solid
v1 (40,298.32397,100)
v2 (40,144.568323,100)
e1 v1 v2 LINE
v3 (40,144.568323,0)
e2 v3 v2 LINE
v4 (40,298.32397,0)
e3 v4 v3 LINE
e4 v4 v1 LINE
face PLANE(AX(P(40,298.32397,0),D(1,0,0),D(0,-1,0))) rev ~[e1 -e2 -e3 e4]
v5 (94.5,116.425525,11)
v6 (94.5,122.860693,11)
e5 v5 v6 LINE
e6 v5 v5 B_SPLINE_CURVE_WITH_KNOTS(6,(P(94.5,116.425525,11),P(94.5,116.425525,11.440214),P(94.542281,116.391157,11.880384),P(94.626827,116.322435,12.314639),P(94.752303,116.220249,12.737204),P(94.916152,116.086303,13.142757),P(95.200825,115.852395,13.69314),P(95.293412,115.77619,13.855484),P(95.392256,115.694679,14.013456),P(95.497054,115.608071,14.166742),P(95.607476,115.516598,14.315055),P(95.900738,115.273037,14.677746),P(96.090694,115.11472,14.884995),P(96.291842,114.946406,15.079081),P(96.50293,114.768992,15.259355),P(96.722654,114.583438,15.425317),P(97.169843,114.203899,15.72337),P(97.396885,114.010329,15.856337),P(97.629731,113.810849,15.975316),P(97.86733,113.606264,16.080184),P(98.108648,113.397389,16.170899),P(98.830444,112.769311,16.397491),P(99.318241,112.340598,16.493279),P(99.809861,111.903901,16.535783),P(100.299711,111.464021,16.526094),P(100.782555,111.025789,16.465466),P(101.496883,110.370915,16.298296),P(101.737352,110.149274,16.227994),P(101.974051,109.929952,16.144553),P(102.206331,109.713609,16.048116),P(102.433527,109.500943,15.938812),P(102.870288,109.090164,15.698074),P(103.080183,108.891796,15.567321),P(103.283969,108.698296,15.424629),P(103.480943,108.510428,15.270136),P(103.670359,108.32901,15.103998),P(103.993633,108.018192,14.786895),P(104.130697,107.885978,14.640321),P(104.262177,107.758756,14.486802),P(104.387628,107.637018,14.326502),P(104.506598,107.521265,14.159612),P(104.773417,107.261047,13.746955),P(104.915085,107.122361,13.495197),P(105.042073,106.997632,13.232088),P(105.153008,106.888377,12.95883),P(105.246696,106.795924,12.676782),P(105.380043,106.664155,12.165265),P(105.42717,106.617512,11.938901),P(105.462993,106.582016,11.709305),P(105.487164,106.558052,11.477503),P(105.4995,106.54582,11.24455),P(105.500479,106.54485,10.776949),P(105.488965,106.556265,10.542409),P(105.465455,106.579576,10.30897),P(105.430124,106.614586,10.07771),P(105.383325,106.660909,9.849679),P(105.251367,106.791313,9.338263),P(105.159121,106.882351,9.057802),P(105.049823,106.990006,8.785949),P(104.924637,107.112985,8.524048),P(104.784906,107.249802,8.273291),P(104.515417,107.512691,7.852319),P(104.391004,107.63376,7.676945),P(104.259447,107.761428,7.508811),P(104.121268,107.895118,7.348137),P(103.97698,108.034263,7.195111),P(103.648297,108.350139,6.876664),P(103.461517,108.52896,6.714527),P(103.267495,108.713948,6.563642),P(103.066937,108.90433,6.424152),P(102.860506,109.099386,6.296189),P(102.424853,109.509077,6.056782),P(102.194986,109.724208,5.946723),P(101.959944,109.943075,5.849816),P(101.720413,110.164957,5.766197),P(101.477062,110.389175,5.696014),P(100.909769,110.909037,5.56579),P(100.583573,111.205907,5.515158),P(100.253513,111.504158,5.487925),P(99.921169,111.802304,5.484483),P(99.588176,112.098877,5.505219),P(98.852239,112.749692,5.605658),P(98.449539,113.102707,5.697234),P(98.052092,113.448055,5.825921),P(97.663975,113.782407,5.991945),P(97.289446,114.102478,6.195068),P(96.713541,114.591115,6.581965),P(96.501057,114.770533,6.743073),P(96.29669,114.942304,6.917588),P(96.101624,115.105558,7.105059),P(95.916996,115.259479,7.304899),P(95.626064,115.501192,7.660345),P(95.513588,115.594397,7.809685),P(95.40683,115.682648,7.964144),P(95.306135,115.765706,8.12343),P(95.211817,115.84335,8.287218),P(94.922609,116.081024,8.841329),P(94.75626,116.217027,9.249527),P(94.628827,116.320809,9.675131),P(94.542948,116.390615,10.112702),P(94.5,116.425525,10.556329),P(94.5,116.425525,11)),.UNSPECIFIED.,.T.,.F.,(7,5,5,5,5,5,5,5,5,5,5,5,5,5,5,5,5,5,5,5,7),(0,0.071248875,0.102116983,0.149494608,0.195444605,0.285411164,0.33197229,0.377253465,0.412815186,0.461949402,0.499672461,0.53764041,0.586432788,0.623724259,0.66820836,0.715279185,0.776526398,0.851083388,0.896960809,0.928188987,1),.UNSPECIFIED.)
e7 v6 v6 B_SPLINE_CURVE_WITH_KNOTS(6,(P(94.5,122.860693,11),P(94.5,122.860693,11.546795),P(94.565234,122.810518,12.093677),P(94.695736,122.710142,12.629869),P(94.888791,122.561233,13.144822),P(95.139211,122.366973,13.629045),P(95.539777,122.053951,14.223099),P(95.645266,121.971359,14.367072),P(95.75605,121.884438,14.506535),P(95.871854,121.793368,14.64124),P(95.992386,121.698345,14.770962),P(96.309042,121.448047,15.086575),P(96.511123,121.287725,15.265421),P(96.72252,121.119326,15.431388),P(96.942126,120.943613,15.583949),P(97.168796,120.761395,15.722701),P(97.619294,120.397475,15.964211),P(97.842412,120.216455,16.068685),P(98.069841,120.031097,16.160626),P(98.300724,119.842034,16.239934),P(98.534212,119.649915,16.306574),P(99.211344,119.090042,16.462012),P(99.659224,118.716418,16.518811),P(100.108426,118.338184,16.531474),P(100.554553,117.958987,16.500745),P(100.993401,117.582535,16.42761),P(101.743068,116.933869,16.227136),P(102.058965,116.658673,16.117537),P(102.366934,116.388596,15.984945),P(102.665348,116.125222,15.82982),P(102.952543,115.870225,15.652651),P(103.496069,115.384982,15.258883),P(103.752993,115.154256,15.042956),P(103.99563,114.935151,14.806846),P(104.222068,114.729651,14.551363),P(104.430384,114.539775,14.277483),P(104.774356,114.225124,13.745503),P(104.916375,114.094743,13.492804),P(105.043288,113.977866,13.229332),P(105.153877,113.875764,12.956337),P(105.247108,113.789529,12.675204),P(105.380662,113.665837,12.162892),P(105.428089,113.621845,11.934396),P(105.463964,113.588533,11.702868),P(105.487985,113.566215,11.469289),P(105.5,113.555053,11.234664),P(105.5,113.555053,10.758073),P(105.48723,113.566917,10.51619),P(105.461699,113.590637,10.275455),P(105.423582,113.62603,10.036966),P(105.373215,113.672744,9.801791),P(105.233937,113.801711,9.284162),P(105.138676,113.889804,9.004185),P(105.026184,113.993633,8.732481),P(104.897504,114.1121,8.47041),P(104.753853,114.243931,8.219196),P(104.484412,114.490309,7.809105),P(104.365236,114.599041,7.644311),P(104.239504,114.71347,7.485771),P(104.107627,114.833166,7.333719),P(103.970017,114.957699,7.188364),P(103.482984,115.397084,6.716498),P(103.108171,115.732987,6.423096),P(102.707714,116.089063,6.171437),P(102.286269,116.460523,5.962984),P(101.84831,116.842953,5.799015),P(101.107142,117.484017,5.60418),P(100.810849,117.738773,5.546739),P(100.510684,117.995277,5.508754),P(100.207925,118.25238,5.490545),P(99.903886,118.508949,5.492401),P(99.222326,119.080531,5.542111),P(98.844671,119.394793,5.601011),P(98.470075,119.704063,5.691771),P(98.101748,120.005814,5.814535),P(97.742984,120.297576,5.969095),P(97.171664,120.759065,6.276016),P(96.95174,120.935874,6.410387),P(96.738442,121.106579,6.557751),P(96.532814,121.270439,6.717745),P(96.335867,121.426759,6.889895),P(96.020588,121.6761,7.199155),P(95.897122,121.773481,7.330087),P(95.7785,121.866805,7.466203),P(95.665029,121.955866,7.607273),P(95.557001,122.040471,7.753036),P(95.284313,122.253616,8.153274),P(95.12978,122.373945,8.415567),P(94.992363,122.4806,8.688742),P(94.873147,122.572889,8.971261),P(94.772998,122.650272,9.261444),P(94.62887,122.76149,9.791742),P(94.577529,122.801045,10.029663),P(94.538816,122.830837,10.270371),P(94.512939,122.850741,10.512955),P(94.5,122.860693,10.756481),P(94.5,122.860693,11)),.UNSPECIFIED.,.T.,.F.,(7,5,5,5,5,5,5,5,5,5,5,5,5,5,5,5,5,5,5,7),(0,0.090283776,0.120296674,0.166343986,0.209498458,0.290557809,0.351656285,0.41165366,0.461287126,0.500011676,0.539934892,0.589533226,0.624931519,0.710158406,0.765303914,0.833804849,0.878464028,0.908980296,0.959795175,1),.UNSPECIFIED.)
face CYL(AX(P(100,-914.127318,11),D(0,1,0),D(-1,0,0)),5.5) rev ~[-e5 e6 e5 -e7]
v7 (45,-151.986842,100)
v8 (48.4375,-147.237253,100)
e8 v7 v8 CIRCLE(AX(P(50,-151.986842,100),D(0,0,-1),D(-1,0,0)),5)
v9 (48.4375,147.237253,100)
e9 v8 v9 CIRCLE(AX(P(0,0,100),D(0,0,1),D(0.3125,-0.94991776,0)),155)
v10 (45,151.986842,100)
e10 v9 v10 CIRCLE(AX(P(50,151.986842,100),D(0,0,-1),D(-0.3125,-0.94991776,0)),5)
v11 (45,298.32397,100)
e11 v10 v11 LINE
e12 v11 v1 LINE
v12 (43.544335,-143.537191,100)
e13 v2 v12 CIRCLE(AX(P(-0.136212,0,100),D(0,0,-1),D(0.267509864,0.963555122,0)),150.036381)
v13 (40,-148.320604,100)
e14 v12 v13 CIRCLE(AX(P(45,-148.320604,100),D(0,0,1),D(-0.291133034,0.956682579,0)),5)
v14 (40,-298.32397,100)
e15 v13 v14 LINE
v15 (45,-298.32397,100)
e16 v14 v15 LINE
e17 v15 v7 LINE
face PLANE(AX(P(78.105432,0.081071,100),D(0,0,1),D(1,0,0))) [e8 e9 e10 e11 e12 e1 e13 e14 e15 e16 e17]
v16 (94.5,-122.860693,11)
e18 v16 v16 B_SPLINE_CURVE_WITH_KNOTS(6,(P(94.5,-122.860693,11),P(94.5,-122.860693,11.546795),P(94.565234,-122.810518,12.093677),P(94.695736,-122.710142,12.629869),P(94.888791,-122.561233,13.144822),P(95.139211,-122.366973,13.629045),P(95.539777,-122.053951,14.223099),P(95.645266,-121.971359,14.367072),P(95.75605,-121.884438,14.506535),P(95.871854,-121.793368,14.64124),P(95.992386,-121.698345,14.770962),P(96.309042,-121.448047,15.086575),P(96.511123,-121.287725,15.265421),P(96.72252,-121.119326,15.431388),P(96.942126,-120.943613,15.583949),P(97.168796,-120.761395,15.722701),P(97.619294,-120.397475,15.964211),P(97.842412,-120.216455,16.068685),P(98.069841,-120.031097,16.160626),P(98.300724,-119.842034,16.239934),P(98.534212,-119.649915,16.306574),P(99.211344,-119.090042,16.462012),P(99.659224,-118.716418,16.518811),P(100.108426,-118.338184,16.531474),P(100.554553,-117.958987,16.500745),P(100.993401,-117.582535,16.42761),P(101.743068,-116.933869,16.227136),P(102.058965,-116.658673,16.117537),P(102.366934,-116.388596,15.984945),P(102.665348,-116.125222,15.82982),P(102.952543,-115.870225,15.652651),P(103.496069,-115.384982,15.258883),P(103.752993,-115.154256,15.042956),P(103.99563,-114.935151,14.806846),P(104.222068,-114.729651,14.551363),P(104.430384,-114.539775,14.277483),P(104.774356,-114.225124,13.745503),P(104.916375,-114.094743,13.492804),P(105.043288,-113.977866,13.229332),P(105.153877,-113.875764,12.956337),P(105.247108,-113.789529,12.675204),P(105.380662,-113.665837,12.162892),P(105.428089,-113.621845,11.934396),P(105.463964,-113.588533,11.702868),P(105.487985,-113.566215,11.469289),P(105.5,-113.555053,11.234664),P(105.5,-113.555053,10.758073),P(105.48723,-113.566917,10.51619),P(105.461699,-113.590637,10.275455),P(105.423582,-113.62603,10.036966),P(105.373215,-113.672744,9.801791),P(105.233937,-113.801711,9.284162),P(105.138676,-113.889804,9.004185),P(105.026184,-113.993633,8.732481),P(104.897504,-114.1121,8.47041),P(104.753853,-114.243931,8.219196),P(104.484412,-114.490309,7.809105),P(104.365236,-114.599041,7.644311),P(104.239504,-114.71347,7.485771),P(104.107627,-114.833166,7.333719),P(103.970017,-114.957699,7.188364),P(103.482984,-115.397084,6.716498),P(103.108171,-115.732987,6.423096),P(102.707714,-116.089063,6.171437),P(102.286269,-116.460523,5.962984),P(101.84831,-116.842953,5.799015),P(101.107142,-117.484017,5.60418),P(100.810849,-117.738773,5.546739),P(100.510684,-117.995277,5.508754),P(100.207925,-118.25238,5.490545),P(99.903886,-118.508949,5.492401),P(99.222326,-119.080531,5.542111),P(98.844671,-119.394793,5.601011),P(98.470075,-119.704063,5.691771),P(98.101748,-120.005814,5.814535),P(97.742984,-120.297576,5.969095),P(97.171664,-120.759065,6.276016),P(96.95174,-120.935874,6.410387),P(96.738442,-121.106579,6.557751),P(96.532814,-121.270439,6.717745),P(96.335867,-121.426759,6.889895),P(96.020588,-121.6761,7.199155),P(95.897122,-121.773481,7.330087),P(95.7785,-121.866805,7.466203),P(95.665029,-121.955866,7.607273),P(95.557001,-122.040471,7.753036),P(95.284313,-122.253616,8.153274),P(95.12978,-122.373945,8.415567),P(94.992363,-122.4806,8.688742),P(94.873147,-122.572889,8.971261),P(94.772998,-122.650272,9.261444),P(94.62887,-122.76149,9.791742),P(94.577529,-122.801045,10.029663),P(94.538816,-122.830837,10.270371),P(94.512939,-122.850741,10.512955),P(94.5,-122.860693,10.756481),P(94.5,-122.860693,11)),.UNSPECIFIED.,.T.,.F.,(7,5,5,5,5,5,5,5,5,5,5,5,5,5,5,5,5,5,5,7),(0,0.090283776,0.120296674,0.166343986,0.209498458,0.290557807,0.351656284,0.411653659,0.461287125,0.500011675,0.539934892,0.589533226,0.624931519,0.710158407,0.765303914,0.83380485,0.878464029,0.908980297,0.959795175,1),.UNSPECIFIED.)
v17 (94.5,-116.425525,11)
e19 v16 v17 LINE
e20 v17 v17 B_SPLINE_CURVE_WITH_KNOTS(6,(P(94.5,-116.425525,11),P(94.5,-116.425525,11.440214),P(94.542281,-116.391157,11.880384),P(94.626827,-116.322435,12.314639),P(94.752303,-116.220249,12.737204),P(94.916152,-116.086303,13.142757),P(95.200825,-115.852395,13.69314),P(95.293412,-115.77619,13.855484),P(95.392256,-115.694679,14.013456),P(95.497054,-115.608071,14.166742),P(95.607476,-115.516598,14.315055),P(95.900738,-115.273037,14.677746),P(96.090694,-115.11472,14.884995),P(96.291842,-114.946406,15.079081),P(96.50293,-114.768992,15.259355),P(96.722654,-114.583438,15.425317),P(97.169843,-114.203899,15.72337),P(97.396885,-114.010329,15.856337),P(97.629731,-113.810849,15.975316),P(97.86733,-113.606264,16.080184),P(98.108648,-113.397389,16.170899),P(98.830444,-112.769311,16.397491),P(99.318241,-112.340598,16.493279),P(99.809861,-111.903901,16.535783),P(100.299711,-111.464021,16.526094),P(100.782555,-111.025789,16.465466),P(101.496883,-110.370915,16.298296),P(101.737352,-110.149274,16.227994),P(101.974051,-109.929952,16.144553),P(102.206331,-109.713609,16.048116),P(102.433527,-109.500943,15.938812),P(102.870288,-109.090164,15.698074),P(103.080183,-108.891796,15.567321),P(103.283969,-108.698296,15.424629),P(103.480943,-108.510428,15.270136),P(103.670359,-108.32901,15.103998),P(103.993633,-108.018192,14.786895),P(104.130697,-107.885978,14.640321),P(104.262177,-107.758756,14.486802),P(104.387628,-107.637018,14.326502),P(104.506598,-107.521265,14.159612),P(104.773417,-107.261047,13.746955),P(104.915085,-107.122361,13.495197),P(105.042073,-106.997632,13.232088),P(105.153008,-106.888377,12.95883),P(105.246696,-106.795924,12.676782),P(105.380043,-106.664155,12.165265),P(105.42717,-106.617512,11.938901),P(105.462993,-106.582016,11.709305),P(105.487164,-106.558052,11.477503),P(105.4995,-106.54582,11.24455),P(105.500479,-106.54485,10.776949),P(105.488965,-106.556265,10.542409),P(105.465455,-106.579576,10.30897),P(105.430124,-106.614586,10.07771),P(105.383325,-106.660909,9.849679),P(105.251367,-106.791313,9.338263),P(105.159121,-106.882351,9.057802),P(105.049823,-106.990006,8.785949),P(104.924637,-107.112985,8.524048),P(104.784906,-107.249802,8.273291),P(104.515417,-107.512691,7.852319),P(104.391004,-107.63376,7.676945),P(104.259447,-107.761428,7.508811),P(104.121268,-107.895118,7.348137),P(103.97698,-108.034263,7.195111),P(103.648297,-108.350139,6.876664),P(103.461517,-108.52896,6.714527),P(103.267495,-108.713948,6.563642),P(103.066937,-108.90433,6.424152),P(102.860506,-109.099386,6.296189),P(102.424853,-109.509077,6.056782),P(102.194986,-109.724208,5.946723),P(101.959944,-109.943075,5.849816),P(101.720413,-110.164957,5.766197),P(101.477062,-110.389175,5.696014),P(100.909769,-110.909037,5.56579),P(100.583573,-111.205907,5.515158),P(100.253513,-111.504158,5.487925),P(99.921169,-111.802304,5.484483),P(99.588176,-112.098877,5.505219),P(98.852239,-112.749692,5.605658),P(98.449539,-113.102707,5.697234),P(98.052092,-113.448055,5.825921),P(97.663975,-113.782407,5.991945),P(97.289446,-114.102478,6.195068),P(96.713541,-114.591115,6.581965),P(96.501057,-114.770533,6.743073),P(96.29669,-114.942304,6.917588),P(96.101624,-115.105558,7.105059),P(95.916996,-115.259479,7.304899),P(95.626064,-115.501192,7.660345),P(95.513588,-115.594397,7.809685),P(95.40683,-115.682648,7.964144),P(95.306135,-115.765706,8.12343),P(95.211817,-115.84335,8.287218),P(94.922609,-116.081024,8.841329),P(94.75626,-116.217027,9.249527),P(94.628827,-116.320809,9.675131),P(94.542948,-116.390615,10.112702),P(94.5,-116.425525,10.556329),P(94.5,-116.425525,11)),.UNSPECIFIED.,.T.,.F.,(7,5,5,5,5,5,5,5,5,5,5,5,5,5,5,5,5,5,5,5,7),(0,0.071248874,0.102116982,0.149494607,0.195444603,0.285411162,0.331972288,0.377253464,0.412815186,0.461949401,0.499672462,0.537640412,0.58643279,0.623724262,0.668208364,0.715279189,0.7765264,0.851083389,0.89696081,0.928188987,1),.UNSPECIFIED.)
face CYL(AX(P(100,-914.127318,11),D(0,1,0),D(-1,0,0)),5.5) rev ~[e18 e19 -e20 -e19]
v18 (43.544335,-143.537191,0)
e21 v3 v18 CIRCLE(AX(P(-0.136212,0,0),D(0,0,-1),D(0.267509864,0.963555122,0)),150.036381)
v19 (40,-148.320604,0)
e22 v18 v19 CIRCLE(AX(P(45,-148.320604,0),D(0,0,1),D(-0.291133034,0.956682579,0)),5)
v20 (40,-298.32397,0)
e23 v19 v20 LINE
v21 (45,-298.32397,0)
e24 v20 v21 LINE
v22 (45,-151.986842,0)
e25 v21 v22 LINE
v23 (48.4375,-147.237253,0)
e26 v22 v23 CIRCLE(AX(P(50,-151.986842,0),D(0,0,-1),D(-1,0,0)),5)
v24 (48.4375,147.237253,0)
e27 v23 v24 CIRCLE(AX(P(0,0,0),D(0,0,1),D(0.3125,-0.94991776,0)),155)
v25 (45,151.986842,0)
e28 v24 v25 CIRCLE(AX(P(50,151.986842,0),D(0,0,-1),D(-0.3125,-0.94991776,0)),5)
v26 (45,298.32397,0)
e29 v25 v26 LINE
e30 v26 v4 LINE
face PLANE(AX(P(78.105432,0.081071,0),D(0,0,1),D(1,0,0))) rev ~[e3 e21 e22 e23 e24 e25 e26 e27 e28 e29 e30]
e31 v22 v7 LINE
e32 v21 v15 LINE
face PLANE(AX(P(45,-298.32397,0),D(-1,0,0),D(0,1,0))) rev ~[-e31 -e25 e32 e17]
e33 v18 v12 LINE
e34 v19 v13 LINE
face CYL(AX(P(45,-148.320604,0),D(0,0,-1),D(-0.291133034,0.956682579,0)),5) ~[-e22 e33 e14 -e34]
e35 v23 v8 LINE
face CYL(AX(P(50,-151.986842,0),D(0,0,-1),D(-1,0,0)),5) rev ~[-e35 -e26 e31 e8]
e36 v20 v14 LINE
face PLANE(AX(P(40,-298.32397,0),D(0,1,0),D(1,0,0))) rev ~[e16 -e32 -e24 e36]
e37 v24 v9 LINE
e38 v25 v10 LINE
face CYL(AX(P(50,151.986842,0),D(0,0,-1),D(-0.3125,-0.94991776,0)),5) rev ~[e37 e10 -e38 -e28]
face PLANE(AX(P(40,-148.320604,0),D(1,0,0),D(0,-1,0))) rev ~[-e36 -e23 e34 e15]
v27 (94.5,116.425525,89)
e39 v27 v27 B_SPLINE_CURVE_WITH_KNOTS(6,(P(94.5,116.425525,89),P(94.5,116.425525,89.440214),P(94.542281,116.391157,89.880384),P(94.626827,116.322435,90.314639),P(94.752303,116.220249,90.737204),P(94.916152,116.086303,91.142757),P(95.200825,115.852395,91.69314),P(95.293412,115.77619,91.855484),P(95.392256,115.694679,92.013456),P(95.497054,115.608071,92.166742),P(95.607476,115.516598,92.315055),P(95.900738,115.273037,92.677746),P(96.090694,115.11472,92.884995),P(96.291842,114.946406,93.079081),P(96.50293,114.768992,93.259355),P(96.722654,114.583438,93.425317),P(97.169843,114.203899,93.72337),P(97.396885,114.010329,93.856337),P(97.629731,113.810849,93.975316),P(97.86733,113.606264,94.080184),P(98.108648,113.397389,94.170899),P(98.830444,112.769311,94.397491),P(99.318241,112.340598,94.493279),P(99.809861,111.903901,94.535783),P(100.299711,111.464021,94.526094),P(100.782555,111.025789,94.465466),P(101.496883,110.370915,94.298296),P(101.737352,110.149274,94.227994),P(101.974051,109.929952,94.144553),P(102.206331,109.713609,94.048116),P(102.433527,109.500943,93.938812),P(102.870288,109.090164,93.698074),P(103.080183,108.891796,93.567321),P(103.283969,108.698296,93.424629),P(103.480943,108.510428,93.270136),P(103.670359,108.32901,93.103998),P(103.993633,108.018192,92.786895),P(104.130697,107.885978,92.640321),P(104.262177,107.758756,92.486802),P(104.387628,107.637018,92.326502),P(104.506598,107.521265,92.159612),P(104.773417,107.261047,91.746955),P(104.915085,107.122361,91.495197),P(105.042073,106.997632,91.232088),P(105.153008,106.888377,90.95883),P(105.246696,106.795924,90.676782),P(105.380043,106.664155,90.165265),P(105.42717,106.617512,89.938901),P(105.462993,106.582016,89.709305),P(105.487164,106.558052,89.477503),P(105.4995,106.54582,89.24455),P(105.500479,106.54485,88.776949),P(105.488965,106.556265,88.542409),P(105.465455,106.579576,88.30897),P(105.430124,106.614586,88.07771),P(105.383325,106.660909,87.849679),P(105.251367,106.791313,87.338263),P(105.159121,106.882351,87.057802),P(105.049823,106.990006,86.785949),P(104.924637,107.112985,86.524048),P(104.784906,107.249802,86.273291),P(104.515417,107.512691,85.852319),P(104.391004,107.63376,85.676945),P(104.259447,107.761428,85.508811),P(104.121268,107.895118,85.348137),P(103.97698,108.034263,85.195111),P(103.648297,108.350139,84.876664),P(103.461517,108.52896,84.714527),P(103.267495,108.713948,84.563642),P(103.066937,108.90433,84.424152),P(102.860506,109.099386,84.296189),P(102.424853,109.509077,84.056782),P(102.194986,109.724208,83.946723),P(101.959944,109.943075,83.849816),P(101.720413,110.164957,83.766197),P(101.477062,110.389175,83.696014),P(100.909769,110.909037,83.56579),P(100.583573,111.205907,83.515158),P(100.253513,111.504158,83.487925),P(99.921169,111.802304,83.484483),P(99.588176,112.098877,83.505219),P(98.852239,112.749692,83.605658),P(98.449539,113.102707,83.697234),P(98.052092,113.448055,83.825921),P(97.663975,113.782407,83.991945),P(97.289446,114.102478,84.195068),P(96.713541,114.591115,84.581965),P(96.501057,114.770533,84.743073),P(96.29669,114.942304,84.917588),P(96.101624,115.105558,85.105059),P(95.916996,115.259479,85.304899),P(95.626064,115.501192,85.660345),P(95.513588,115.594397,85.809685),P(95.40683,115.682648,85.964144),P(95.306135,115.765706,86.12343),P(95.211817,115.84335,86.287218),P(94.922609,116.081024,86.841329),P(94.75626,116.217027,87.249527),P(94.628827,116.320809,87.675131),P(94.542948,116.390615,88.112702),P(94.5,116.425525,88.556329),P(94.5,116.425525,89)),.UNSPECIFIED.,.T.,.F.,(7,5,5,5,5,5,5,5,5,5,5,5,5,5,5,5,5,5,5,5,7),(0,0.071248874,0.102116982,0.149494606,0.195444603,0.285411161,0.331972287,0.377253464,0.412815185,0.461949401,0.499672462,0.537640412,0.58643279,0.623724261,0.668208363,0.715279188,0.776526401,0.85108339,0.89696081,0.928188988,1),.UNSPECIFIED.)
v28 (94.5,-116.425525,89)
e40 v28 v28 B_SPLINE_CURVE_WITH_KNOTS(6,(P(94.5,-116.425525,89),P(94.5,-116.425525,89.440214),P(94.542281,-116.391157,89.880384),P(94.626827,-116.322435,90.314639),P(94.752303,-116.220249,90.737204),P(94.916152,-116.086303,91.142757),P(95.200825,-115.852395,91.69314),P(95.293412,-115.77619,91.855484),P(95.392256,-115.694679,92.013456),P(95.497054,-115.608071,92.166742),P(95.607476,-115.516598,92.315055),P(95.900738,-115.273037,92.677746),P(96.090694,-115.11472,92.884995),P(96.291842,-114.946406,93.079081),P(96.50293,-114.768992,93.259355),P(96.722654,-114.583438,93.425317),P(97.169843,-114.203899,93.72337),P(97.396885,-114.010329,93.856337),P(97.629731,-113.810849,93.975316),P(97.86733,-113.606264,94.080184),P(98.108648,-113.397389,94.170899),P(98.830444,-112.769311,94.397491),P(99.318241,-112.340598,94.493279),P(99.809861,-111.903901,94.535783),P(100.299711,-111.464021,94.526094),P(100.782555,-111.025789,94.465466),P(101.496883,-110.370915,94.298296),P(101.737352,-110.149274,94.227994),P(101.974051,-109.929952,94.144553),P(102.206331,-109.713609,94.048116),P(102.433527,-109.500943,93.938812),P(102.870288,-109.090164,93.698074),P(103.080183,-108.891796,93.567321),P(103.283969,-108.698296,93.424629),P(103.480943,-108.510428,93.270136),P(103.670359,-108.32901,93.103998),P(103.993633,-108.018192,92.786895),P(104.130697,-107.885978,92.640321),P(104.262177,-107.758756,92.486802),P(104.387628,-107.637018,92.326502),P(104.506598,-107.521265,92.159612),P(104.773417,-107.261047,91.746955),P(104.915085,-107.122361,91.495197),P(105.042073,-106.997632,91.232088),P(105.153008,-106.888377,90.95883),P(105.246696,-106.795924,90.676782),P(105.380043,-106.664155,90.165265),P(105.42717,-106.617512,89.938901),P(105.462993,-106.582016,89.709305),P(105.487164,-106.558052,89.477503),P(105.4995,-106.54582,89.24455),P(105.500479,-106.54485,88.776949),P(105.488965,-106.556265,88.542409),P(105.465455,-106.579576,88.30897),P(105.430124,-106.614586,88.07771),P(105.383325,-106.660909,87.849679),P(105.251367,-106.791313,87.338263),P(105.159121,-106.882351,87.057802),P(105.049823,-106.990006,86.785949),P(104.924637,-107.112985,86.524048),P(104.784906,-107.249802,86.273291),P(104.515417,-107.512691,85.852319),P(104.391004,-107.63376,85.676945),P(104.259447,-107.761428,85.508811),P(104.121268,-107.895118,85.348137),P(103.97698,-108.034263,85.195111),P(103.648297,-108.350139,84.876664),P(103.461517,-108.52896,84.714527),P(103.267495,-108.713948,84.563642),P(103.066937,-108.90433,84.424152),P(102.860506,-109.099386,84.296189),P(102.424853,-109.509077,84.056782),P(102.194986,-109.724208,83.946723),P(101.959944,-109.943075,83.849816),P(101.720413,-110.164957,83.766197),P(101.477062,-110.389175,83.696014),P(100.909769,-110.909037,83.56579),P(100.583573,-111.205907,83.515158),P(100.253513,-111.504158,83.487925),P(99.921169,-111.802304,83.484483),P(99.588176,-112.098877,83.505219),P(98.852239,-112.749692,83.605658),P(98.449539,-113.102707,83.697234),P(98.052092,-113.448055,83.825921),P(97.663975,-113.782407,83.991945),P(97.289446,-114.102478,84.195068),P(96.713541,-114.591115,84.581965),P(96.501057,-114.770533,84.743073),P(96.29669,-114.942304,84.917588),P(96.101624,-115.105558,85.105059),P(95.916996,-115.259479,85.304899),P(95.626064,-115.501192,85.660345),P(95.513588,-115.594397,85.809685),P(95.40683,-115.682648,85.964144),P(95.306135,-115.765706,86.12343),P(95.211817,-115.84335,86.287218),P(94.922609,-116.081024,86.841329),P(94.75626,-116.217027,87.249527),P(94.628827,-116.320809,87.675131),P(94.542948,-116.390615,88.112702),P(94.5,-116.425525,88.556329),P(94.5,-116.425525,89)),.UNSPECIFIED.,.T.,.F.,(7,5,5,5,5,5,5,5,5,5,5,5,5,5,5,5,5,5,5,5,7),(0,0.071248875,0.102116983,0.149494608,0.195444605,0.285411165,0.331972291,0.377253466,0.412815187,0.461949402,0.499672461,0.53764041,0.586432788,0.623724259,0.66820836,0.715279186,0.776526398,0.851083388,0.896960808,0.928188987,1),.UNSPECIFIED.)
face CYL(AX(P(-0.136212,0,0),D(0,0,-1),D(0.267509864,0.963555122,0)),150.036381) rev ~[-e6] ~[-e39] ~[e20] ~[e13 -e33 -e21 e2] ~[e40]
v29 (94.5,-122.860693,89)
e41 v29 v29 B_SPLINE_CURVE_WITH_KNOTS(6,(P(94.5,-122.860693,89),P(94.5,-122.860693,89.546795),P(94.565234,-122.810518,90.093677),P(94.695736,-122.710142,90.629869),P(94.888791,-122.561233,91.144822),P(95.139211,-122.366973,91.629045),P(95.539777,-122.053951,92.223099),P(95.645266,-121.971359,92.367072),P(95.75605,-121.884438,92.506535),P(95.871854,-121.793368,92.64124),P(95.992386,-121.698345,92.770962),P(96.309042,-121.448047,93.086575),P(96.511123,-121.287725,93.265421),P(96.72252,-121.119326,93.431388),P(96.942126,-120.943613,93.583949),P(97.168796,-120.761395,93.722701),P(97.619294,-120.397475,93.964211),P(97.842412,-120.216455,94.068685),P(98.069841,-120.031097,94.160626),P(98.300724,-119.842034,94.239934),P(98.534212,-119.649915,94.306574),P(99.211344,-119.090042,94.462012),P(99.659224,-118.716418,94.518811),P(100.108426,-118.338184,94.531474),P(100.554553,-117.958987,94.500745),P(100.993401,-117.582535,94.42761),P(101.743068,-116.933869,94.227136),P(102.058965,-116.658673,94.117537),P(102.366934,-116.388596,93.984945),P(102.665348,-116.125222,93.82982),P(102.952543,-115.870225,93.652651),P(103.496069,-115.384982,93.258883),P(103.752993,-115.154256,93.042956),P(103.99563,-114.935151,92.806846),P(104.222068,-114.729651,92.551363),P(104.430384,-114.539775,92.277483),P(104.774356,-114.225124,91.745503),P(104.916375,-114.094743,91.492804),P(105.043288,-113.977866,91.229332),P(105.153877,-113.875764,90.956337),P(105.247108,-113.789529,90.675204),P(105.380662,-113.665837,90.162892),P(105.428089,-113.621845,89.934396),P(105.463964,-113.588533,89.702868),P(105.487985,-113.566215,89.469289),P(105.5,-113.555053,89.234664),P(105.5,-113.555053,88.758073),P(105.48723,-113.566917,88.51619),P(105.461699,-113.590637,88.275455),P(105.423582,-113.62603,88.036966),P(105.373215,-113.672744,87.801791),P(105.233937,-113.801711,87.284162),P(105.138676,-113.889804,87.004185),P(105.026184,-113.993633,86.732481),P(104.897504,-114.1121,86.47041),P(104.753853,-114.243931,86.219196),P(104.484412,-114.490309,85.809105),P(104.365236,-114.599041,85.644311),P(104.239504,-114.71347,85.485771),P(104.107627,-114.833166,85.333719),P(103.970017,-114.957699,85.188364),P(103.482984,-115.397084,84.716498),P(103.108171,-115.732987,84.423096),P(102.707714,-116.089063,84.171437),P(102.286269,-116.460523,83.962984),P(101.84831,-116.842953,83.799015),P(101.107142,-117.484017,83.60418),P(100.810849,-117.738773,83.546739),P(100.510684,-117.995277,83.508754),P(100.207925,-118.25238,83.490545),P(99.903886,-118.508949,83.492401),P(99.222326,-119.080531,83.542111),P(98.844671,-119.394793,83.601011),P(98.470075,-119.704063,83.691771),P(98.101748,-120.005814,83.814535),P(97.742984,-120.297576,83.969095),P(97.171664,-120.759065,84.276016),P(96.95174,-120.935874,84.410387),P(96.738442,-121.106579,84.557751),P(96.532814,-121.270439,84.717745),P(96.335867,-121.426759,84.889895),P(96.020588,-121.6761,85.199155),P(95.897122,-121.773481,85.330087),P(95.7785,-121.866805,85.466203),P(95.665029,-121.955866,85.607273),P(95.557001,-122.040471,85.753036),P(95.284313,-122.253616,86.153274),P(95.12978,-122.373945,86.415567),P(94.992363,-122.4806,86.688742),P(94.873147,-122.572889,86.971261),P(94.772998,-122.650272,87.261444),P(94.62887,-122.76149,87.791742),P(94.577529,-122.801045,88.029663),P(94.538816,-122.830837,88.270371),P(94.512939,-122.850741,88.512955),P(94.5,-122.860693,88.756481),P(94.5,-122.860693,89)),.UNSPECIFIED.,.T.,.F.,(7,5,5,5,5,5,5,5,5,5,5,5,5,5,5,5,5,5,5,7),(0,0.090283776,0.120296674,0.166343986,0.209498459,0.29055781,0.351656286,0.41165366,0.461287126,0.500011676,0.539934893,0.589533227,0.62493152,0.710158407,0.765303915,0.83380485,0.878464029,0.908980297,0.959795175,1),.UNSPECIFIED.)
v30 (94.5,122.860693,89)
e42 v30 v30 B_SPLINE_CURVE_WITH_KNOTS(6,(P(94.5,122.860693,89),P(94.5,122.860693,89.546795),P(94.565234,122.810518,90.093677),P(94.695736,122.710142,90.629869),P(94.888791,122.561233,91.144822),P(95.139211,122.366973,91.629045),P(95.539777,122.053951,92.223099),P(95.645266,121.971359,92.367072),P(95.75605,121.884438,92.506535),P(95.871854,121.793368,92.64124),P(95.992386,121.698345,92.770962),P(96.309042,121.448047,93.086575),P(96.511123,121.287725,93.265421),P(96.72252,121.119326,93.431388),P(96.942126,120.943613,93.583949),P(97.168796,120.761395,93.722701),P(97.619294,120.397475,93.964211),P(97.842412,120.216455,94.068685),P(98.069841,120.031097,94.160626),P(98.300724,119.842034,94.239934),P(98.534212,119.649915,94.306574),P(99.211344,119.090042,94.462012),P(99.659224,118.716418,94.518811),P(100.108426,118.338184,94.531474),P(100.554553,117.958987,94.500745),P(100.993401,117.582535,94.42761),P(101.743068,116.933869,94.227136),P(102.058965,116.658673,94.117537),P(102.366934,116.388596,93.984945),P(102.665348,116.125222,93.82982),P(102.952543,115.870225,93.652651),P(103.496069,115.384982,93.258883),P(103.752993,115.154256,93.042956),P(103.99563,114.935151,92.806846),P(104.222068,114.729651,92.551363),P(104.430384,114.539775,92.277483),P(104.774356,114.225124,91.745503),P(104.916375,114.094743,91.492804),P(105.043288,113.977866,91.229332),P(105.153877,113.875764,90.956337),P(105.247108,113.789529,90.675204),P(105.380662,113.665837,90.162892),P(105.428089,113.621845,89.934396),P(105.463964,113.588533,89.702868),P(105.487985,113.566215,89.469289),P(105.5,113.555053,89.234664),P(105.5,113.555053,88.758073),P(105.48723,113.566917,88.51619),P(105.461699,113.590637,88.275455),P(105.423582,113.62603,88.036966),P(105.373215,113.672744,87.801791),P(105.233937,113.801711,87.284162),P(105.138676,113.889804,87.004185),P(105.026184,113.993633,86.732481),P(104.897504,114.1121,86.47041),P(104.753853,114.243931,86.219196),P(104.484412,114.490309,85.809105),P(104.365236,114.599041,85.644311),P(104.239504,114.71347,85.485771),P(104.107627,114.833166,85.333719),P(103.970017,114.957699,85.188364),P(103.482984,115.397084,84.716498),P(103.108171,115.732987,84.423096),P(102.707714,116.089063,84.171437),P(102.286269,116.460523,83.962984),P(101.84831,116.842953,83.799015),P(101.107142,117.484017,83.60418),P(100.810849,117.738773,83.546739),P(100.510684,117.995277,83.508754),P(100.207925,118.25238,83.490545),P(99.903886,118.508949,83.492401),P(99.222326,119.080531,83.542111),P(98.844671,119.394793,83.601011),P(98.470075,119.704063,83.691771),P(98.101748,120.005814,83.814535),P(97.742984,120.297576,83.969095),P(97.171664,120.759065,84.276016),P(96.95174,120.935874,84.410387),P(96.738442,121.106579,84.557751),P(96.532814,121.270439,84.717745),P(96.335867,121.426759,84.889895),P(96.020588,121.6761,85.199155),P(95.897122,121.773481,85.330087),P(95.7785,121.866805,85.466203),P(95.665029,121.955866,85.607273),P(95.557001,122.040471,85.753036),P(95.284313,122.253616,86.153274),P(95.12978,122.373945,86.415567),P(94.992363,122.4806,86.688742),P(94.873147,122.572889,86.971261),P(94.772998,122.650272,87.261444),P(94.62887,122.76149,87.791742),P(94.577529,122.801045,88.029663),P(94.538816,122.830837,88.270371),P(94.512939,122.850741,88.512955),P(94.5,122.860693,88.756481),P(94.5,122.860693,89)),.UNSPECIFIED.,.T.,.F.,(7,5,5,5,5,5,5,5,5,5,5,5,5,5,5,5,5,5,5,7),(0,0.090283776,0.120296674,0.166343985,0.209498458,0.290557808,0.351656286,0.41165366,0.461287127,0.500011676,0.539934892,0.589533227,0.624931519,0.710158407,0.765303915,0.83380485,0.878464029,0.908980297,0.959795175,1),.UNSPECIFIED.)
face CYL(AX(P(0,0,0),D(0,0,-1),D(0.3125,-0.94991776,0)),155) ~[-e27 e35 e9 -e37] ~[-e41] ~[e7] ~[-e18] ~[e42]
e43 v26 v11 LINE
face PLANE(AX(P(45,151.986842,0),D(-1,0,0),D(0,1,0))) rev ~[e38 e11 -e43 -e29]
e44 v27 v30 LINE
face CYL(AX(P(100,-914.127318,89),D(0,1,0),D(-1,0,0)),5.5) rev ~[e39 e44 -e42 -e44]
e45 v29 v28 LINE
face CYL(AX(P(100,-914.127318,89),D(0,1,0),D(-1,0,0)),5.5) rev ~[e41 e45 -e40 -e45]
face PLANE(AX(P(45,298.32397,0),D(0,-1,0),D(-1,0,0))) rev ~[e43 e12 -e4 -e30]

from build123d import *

# Parameters (mm, degrees)
F1_DEPTH = 100
F3_D     = 11


with BuildPart() as f1:
    # F0 (on Top) → F1 (new body)
    with BuildSketch(Plane.XY):
        with BuildLine():
            Line((45, -298.3239697419), (45, -151.9868415357))
            ThreePointArc((45, -151.9868415357), (45.9495370635, -149.0553316858), (48.4375, -147.2372527377))
            ThreePointArc((48.4375, -147.2372527377), (155, 0), (48.4375, 147.2372527377))
            ThreePointArc((48.4375, 147.2372527377), (45.9495370635, 149.0553316858), (45, 151.9868415357))
            Line((45, 151.9868415357), (45, 298.3239697419))
            Line((45, 298.3239697419), (40, 298.3239697419))
            Line((40, 298.3239697419), (40, 144.568322948))
            ThreePointArc((40, 144.568322948), (149.8888164954, 1.8456395549), (43.5443348323, -143.5371914998))
            ThreePointArc((43.5443348323, -143.5371914998), (40.9826422963, -145.343888573), (40, -148.3206043943))
            Line((40, -148.3206043943), (40, -298.3239697419))
            Line((40, -298.3239697419), (45, -298.3239697419))
        make_face()
    extrude(amount=F1_DEPTH)

    # F3 (through all)
    with Locations(Plane.XZ.offset(298.3239697419)):
        with Locations((100, 89), (100, 11)):
            Hole(F3_D / 2)


solid = f1.part
